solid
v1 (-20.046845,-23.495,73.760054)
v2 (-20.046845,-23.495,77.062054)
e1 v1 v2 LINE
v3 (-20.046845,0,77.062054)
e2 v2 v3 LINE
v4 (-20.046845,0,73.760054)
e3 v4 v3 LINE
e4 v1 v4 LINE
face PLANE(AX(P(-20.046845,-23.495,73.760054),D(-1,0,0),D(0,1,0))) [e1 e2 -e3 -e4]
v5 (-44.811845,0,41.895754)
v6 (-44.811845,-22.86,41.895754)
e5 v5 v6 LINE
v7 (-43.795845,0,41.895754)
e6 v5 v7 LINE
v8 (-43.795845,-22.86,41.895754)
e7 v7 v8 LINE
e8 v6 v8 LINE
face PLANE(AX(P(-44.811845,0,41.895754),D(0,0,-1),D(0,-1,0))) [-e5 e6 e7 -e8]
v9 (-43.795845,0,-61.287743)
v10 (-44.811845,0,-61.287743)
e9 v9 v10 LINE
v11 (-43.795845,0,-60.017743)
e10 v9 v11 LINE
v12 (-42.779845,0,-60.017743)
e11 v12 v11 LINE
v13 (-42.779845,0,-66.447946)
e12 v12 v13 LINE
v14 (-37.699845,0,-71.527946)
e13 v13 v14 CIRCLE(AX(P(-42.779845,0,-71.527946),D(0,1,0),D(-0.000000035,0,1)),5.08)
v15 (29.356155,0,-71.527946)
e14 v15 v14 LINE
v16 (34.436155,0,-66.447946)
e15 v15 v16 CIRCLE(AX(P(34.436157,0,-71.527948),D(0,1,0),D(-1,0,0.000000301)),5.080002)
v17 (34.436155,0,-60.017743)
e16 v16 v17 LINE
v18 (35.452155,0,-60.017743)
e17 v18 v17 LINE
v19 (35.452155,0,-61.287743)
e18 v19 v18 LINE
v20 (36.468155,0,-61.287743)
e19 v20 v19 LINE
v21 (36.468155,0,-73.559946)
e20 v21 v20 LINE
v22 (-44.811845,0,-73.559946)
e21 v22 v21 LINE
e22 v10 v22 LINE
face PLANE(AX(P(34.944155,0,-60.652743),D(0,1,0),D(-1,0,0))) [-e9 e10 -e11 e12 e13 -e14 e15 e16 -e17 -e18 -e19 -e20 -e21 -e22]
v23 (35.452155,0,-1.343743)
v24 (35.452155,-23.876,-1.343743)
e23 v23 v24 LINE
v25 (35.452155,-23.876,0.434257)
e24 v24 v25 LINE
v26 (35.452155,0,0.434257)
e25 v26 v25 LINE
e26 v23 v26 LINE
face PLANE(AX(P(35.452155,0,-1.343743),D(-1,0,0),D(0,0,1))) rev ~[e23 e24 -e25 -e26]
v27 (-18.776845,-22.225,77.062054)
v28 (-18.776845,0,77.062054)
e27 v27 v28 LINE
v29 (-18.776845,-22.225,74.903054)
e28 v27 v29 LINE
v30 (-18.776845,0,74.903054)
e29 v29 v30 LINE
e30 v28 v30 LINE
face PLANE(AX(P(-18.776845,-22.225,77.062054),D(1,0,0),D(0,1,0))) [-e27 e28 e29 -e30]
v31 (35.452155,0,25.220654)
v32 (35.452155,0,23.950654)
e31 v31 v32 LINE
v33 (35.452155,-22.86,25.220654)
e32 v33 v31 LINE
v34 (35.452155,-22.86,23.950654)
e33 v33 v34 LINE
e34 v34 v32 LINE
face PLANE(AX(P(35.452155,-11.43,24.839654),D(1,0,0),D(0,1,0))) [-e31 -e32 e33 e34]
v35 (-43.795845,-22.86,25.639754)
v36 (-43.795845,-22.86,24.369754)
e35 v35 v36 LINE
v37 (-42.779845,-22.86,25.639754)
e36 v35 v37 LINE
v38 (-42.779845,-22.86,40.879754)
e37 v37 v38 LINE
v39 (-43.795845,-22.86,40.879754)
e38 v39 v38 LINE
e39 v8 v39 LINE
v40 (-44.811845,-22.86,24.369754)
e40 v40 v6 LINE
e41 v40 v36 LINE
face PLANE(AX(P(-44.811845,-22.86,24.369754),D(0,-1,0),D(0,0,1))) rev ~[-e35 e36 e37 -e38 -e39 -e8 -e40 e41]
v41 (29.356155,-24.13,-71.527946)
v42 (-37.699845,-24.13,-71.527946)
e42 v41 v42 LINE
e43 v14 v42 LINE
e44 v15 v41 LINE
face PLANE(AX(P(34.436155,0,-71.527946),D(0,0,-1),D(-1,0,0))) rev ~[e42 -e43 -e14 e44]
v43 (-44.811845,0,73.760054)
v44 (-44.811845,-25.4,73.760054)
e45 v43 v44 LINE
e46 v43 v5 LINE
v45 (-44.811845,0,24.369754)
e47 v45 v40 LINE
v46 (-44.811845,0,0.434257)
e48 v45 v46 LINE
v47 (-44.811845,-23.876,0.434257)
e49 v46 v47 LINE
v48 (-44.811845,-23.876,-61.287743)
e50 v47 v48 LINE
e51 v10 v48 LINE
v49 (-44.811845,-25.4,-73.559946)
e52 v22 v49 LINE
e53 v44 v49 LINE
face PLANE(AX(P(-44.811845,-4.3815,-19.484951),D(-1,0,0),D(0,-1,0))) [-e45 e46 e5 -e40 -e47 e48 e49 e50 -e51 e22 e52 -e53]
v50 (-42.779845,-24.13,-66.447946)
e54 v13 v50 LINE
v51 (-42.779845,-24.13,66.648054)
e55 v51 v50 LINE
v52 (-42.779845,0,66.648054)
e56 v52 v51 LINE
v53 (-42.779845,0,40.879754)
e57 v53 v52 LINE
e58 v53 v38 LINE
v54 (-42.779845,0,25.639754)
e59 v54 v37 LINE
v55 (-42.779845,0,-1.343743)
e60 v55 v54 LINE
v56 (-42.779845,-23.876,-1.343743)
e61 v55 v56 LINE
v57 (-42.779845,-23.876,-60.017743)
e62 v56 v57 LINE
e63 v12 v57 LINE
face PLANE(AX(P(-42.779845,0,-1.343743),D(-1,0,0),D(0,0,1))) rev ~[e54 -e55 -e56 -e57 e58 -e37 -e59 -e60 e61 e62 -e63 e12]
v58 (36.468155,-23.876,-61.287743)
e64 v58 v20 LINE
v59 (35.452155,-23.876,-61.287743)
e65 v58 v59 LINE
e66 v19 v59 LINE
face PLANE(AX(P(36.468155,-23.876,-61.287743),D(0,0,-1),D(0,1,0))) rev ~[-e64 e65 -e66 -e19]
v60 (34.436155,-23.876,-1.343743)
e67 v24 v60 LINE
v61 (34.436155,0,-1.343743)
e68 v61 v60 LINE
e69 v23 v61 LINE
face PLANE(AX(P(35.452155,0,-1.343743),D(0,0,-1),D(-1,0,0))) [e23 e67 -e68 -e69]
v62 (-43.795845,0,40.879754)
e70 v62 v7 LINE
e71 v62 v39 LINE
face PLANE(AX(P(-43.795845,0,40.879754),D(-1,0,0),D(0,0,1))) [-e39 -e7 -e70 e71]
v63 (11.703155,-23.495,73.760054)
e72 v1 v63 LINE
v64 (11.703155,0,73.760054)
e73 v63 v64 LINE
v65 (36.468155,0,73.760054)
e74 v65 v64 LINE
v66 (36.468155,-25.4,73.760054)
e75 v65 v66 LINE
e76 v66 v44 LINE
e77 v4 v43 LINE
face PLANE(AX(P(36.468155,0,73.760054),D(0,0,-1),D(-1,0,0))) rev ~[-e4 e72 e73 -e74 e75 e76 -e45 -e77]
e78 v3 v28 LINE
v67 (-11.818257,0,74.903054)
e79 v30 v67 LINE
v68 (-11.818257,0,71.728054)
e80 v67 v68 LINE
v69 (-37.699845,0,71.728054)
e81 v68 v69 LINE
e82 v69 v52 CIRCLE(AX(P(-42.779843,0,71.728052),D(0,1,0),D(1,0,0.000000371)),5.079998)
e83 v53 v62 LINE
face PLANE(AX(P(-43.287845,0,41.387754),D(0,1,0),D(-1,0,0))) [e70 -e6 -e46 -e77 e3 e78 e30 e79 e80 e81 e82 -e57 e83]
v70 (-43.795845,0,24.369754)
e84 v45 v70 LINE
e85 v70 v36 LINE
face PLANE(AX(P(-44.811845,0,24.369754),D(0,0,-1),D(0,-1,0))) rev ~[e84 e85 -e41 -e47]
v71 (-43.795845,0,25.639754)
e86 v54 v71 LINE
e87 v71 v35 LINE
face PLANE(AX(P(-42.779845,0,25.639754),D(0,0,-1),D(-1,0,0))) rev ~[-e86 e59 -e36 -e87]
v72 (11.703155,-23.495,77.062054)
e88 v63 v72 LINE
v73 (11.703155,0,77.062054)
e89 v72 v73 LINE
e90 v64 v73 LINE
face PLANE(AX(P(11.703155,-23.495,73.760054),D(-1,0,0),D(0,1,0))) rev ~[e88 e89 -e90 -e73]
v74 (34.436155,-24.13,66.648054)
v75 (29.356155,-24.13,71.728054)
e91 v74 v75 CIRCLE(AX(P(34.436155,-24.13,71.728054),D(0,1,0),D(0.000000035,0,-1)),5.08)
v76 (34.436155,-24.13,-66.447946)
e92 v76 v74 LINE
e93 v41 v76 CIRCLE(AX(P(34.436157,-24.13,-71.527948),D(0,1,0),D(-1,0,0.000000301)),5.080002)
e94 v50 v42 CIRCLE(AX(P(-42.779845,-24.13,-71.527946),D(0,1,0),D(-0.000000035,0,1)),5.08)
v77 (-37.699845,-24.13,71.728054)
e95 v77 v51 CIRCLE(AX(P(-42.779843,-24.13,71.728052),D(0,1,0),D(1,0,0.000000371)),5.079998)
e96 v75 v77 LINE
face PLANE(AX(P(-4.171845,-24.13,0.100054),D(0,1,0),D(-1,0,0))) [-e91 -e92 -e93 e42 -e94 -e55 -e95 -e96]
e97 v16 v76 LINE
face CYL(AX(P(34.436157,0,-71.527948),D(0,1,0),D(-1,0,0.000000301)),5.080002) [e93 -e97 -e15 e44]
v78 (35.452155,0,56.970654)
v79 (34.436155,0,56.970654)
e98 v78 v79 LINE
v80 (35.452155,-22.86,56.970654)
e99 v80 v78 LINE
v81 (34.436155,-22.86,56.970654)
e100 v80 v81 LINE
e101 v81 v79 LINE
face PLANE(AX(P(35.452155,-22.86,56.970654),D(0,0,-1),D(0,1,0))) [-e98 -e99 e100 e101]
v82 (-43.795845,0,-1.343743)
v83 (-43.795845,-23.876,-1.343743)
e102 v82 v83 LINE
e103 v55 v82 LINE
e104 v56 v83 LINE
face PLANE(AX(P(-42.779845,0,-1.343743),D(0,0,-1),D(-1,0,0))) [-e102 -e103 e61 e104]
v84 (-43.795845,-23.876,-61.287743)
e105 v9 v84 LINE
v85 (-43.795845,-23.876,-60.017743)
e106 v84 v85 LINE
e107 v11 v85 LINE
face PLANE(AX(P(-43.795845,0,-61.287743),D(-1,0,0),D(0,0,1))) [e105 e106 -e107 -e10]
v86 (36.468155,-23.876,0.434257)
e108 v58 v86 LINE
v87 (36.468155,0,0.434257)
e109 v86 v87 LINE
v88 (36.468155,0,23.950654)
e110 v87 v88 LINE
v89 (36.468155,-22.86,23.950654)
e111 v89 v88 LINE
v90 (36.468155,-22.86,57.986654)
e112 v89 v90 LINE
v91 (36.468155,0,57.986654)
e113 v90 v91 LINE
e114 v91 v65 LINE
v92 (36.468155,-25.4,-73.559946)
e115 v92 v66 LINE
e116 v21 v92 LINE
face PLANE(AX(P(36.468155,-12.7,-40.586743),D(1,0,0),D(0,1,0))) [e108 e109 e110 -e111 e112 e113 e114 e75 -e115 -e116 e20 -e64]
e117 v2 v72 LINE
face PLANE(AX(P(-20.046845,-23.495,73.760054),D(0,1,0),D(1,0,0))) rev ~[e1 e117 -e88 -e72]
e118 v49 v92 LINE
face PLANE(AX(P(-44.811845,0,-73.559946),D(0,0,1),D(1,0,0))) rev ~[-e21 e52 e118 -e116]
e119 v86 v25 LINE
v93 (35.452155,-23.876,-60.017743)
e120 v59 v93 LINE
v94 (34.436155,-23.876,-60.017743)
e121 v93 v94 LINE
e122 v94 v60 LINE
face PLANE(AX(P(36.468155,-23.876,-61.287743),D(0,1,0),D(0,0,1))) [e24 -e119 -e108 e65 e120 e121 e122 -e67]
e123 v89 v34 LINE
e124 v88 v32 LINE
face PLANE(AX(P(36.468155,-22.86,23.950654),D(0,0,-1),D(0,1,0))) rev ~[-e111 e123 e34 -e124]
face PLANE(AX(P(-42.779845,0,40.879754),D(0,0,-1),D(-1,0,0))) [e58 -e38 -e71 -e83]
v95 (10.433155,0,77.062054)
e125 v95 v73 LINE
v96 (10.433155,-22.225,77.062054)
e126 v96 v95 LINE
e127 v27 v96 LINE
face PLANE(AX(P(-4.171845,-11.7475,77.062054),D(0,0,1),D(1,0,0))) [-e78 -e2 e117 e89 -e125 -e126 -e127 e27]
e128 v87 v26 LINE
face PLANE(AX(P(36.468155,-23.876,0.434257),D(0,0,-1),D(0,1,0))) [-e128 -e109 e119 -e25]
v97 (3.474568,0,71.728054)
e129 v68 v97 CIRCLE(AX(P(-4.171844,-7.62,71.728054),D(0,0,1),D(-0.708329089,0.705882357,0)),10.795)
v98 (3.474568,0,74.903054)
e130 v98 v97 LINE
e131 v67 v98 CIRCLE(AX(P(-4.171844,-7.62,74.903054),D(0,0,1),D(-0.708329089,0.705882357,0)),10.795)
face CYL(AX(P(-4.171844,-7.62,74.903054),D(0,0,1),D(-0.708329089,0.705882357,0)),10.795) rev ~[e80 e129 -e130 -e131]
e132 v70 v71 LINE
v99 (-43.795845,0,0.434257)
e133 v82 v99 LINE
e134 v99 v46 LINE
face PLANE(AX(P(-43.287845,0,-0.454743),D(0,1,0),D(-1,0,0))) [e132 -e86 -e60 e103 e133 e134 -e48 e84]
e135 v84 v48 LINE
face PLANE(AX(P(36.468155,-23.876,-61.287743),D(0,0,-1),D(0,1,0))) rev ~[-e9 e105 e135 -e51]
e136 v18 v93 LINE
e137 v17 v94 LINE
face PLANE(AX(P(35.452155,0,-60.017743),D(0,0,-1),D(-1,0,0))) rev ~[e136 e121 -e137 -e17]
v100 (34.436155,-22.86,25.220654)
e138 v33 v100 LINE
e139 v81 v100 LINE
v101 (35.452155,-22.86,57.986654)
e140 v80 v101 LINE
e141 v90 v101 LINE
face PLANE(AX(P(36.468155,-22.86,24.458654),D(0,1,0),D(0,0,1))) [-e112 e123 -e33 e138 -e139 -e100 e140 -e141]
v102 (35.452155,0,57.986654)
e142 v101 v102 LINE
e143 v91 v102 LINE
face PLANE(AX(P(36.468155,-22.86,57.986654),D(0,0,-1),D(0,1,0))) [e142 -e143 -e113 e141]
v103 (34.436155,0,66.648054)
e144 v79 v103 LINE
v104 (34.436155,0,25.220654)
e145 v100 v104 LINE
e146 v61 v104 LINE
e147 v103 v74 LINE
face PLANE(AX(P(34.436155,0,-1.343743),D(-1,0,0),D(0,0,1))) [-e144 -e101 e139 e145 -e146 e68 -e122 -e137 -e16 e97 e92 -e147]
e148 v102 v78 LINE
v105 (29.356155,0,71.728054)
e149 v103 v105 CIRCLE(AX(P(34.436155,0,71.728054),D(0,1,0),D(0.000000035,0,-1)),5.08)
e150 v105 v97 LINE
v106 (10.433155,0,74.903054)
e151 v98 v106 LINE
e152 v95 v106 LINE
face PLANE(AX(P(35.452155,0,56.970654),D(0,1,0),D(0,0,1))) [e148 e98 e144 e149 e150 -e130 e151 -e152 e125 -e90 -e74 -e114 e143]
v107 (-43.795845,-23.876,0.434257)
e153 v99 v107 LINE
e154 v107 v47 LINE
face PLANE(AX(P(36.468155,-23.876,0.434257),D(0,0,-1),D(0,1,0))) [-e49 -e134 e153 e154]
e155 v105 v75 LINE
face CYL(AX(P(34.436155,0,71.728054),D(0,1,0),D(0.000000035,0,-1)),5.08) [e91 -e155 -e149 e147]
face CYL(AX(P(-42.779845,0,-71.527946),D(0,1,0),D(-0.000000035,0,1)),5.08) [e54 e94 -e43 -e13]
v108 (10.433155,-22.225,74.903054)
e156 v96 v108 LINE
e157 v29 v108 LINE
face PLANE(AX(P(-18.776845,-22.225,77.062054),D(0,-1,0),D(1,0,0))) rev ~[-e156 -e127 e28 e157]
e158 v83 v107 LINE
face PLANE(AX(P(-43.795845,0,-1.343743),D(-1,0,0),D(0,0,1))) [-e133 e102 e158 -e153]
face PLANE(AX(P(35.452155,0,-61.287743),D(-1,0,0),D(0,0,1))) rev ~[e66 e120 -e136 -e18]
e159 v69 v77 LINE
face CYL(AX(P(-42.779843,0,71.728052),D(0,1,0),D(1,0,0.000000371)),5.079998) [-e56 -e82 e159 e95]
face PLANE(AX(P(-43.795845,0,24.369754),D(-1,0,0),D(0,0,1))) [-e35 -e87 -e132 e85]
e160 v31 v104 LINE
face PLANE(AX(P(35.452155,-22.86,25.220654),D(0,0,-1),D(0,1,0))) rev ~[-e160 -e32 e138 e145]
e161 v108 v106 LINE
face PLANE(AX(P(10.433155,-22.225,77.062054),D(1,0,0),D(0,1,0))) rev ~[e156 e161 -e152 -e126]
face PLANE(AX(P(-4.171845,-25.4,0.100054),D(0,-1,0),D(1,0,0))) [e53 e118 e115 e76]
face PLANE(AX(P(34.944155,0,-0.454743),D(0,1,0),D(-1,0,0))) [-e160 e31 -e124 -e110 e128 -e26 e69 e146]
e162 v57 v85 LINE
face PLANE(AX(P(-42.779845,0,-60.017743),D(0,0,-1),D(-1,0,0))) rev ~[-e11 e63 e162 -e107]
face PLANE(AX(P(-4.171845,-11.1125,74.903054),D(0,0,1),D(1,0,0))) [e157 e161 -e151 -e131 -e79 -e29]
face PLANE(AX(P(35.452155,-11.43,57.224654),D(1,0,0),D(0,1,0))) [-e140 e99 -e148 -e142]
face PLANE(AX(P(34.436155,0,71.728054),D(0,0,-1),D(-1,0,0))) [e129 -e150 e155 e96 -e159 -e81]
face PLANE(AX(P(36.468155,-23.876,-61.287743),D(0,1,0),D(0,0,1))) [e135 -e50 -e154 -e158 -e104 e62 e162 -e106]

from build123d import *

# Parameters (mm, degrees)
F1_DEPTH  = 25.4
F2_W      = 77.216
F2_H      = 143.256
F3_DEPTH  = 24.13
F4_W      = 0.889
F4_H      = 6.858
F4_W_2    = 6.858
F4_H_2    = 0.889
F5_DEPTH  = 81.281
F6_W      = 5.0038
F6_H      = 0.6858
F7_DEPTH  = 81.281
F8_W      = 5.0038
F8_H      = 0.6858
F9_DEPTH  = 2.032
F10_W     = 5.207
F10_H     = 9.652
F10_W_2   = 3.175
F10_H_2   = 7.62
F10_W_3   = 9.652
F10_H_3   = 5.207
F10_W_4   = 7.62
F10_H_4   = 3.175
F10_W_5   = 9.271
F11_DEPTH = 12.954
F12_W     = 9.144
F12_H     = 4.699
F12_W_2   = 7.62
F12_H_2   = 3.175
F13_DEPTH = 12.954
F14_W     = 0.889
F14_H     = 6.858
F14_W_2   = 6.858
F14_H_2   = 0.889
F15_DEPTH = 81.281
F16_W     = 5.207
F16_H     = 9.652
F16_W_2   = 3.175
F16_H_2   = 7.62
F16_W_3   = 9.652
F16_H_3   = 5.207
F16_W_4   = 7.62
F16_H_4   = 3.175
F17_DEPTH = 12.954
F18_W     = 5.207
F18_H     = 9.652
F18_W_2   = 3.175
F18_H_2   = 7.62
F18_W_3   = 9.652
F18_H_3   = 5.207
F18_W_4   = 7.62
F18_H_4   = 3.175
F19_DEPTH = 12.954
F21_DEPTH = 25.4
F22_W     = 31.75
F22_H     = 23.495
F23_DEPTH = 3.302
F24_W     = 29.21
F24_H     = 22.225
F25_DEPTH = 2.159
F27_DEPTH = 25.4
F29_W     = 22.86
F29_H     = 33.02
F30_DEPTH = 25.4
F31_W     = 22.86
F31_H     = 0.508
F32_DEPTH = 1.016
F34_W     = 22.86
F34_H     = 0.508
F35_DEPTH = 1.016
F36_W     = 22.86
F36_H     = 0.762
F37_DEPTH = 1.016
F33_W     = 22.86
F33_H     = 17.526
F38_DEPTH = 25.4
F39_W     = 1.016
F39_H     = 1.016
F40_DEPTH = 25.4
F41_W     = 1.016
F41_H     = 1.27
F42_DEPTH = 25.4
F43_W     = 23.876
F43_H     = 61.722
F44_DEPTH = 81.281
F45_W     = 1.016
F45_H     = 1.27
F46_DEPTH = 25.4
F47_W     = 1.016
F47_H     = 1.778
F48_DEPTH = 25.4
F49_W     = 1.016
F49_H     = 1.778
F50_DEPTH = 25.4


with BuildPart() as f1:
    # F0 (on Front) → F1 (new body)
    with BuildSketch(Plane.XZ):
        Polygon((36.468155, -40.539946), (36.468155, 73.760054), (-44.811845, 73.760054), (-44.811845, -40.539946), (-44.811845, -73.559946), (36.468155, -73.559946), align=None)
    extrude(amount=F1_DEPTH)

    # F2 (on face) → F3 (cut)
    with BuildSketch(Plane(origin=(0, 0, 0), x_dir=(-1, 0, 0), z_dir=(0, 1, 0))):
        with Locations((4.171845, 0.100054)):
            Rectangle(F2_W, F2_H)
    extrude(amount=-F3_DEPTH, mode=Mode.SUBTRACT)

    # F4 (on face) → F5 (cut, through all)
    with BuildSketch(Plane.YZ.offset(36.468155)):
        with Locations((-12.7, -11.420451)):
            Rectangle(F4_W, F4_H)
        with Locations((-12.7, -19.865951)):
            Rectangle(F4_W_2, F4_H_2)
        with Locations((-12.7, -27.866951)):
            Rectangle(F4_W_2, F4_H_2)
        with Locations((-21.0185, -19.484951)):
            Rectangle(F4_W, F4_H)
        with Locations((-4.3815, -19.484951)):
            Rectangle(F4_W, F4_H)
    extrude(amount=-F5_DEPTH, mode=Mode.SUBTRACT)

    # F6 (on face) → F7 (cut, through all)
    with BuildSketch(Plane.YZ.offset(36.468155)):
        with Locations((-17.4371, 28.509954)):
            Rectangle(F6_W, F6_H)
        with Locations((-7.9629, 28.509954)):
            Rectangle(F6_W, F6_H)
        with Locations((-17.4371, 36.815754)):
            Rectangle(F6_W, F6_H)
        with Locations((-7.9629, 36.815754)):
            Rectangle(F6_W, F6_H)
        with Locations((-17.4371, 45.121554)):
            Rectangle(F6_W, F6_H)
        with Locations((-7.9629, 45.121554)):
            Rectangle(F6_W, F6_H)
        with Locations((-17.4371, 53.427354)):
            Rectangle(F6_W, F6_H)
        with Locations((-7.9629, 53.427354)):
            Rectangle(F6_W, F6_H)
    extrude(amount=-F7_DEPTH, mode=Mode.SUBTRACT)

    # F8 (on face) → F9 (join)
    with BuildSketch(Plane(origin=(-44.811845, 0, 0), x_dir=(0, -1, 0), z_dir=(-1, 0, 0))):
        with Locations((7.9629, 53.427354)):
            Rectangle(F8_W, F8_H)
        with Locations((17.4371, 53.427354)):
            Rectangle(F8_W, F8_H)
        with Locations((7.9629, 45.121554)):
            Rectangle(F8_W, F8_H)
        with Locations((17.4371, 45.121554)):
            Rectangle(F8_W, F8_H)
    extrude(amount=-F9_DEPTH)

    # F10 (on face) → F11 (join)
    with BuildSketch(Plane.YZ.offset(36.468155)):
        with Locations((-12.7, -11.420451)):
            Rectangle(F10_W, F10_H)
        with Locations((-12.7, -11.420451)):
            Rectangle(F10_W_2, F10_H_2, mode=Mode.SUBTRACT)
        with Locations((-21.0185, -19.484951)):
            Rectangle(F10_W, F10_H)
        with Locations((-21.0185, -19.484951)):
            Rectangle(F10_W_2, F10_H_2, mode=Mode.SUBTRACT)
        with Locations((-4.3815, -19.484951)):
            Rectangle(F10_W, F10_H)
        with Locations((-4.3815, -19.484951)):
            Rectangle(F10_W_2, F10_H_2, mode=Mode.SUBTRACT)
        with Locations((-12.7, -19.865951)):
            Rectangle(F10_W_3, F10_H_3)
        with Locations((-12.7, -19.865951)):
            Rectangle(F10_W_4, F10_H_4, mode=Mode.SUBTRACT)
        with Locations((-12.8905, -27.866951)):
            Rectangle(F10_W_5, F10_H_3)
        with Locations((-12.7, -27.866951)):
            Rectangle(F10_W_4, F10_H_4, mode=Mode.SUBTRACT)
    extrude(amount=-F11_DEPTH)

    # F12 (on face) → F13 (join)
    with BuildSketch(Plane.YZ.offset(36.468155)):
        with Locations((-17.4371, 28.509954)):
            Rectangle(F12_W, F12_H)
        with Locations((-17.4371, 28.509954)):
            Rectangle(F12_W_2, F12_H_2, mode=Mode.SUBTRACT)
        with Locations((-7.9629, 28.509954)):
            Rectangle(F12_W, F12_H)
        with Locations((-7.9629, 28.509954)):
            Rectangle(F12_W_2, F12_H_2, mode=Mode.SUBTRACT)
        with Locations((-17.4371, 36.815754)):
            Rectangle(F12_W, F12_H)
        with Locations((-17.4371, 36.815754)):
            Rectangle(F12_W_2, F12_H_2, mode=Mode.SUBTRACT)
        with Locations((-7.9629, 36.815754)):
            Rectangle(F12_W, F12_H)
        with Locations((-7.9629, 36.815754)):
            Rectangle(F12_W_2, F12_H_2, mode=Mode.SUBTRACT)
        with Locations((-17.4371, 45.121554)):
            Rectangle(F12_W, F12_H)
        with Locations((-17.4371, 45.121554)):
            Rectangle(F12_W_2, F12_H_2, mode=Mode.SUBTRACT)
        with Locations((-7.9629, 45.121554)):
            Rectangle(F12_W, F12_H)
        with Locations((-7.9629, 45.121554)):
            Rectangle(F12_W_2, F12_H_2, mode=Mode.SUBTRACT)
        with Locations((-17.4371, 53.427354)):
            Rectangle(F12_W, F12_H)
        with Locations((-17.4371, 53.427354)):
            Rectangle(F12_W_2, F12_H_2, mode=Mode.SUBTRACT)
        with Locations((-7.9629, 53.427354)):
            Rectangle(F12_W, F12_H)
        with Locations((-7.9629, 53.427354)):
            Rectangle(F12_W_2, F12_H_2, mode=Mode.SUBTRACT)
    extrude(amount=-F13_DEPTH)

    # F14 (on face) → F15 (cut, through all)
    with BuildSketch(Plane.YZ.offset(36.468155)):
        with Locations((-12.7, -40.586743)):
            Rectangle(F14_W, F14_H)
        with Locations((-12.7, -49.032243)):
            Rectangle(F14_W_2, F14_H_2)
        with Locations((-12.7, -57.033243)):
            Rectangle(F14_W_2, F14_H_2)
        with Locations((-21.0185, -48.714743)):
            Rectangle(F14_W, F14_H)
        with Locations((-4.3815, -48.714743)):
            Rectangle(F14_W, F14_H)
    extrude(amount=-F15_DEPTH, mode=Mode.SUBTRACT)

    # F16 (on face) → F17 (join)
    with BuildSketch(Plane(origin=(-44.811845, 0, 0), x_dir=(0, -1, 0), z_dir=(-1, 0, 0))):
        with Locations((4.3815, -19.484951)):
            Rectangle(F16_W, F16_H)
        with Locations((4.3815, -19.484951)):
            Rectangle(F16_W_2, F16_H_2, mode=Mode.SUBTRACT)
        with Locations((12.7, -19.865951)):
            Rectangle(F16_W_3, F16_H_3)
        with Locations((12.7, -19.865951)):
            Rectangle(F16_W_4, F16_H_4, mode=Mode.SUBTRACT)
        with Locations((21.0185, -19.484951)):
            Rectangle(F16_W, F16_H)
        with Locations((21.0185, -19.484951)):
            Rectangle(F16_W_2, F16_H_2, mode=Mode.SUBTRACT)
        with Locations((12.7, -11.420451)):
            Rectangle(F16_W, F16_H)
        with Locations((12.7, -11.420451)):
            Rectangle(F16_W_2, F16_H_2, mode=Mode.SUBTRACT)
        with Locations((12.7, -27.866951)):
            Rectangle(F16_W_3, F16_H_3)
        with Locations((12.7, -27.866951)):
            Rectangle(F16_W_4, F16_H_4, mode=Mode.SUBTRACT)
        with Locations((4.3815, -48.714743)):
            Rectangle(F16_W, F16_H)
        with Locations((4.3815, -48.714743)):
            Rectangle(F16_W_2, F16_H_2, mode=Mode.SUBTRACT)
        with Locations((12.7, -49.032243)):
            Rectangle(F16_W_3, F16_H_3)
        with Locations((12.7, -49.032243)):
            Rectangle(F16_W_4, F16_H_4, mode=Mode.SUBTRACT)
        with Locations((21.0185, -48.714743)):
            Rectangle(F16_W, F16_H)
        with Locations((21.0185, -48.714743)):
            Rectangle(F16_W_2, F16_H_2, mode=Mode.SUBTRACT)
        with Locations((12.7, -40.586743)):
            Rectangle(F16_W, F16_H)
        with Locations((12.7, -40.586743)):
            Rectangle(F16_W_2, F16_H_2, mode=Mode.SUBTRACT)
        with Locations((12.7, -57.033243)):
            Rectangle(F16_W_3, F16_H_3)
        with Locations((12.7, -57.033243)):
            Rectangle(F16_W_4, F16_H_4, mode=Mode.SUBTRACT)
    extrude(amount=-F17_DEPTH)

    # F18 (on face) → F19 (join)
    with BuildSketch(Plane.YZ.offset(36.468155)):
        with Locations((-12.7, -40.586743)):
            Rectangle(F18_W, F18_H)
        with Locations((-12.7, -40.586743)):
            Rectangle(F18_W_2, F18_H_2, mode=Mode.SUBTRACT)
        with Locations((-4.3815, -48.714743)):
            Rectangle(F18_W, F18_H)
        with Locations((-4.3815, -48.714743)):
            Rectangle(F18_W_2, F18_H_2, mode=Mode.SUBTRACT)
        with Locations((-12.7, -49.032243)):
            Rectangle(F18_W_3, F18_H_3)
        with Locations((-12.7, -49.032243)):
            Rectangle(F18_W_4, F18_H_4, mode=Mode.SUBTRACT)
        with Locations((-21.0185, -48.714743)):
            Rectangle(F18_W, F18_H)
        with Locations((-21.0185, -48.714743)):
            Rectangle(F18_W_2, F18_H_2, mode=Mode.SUBTRACT)
        with Locations((-12.7, -57.033243)):
            Rectangle(F18_W_3, F18_H_3)
        with Locations((-12.7, -57.033243)):
            Rectangle(F18_W_4, F18_H_4, mode=Mode.SUBTRACT)
    extrude(amount=-F19_DEPTH)

    # F20 (on face) → F21 (join)
    with BuildSketch(Plane(origin=(0, 0, 0), x_dir=(-1, 0, 0), z_dir=(0, 1, 0))):
        with BuildLine():
            ThreePointArc((-34.436155, 66.648054), (-30.844053, 68.135951), (-29.356155, 71.728054))
            Line((-29.356155, 71.728054), (-34.436155, 71.728054))
            Line((-34.436155, 71.728054), (-34.436155, 66.648054))
        make_face()
        with BuildLine():
            Line((42.779845, 71.728054), (37.699845, 71.728054))
            ThreePointArc((37.699845, 71.728054), (39.187742, 68.135951), (42.779845, 66.648054))
            Line((42.779845, 66.648054), (42.779845, 71.728054))
        make_face()
        with BuildLine():
            Line((-34.436155, -71.527946), (-29.356155, -71.527946))
            ThreePointArc((-29.356155, -71.527946), (-30.844053, -67.935844), (-34.436155, -66.447946))
            Line((-34.436155, -66.447946), (-34.436155, -71.527946))
        make_face()
        with BuildLine():
            ThreePointArc((42.779845, -66.447946), (39.187742, -67.935844), (37.699845, -71.527946))
            Line((37.699845, -71.527946), (42.779845, -71.527946))
            Line((42.779845, -71.527946), (42.779845, -66.447946))
        make_face()
    extrude(amount=-F21_DEPTH)

    # F22 (on face) → F23 (join)
    with BuildSketch(Plane.XY.offset(73.760054)):
        with Locations((-4.171845, -11.7475)):
            Rectangle(F22_W, F22_H)
    extrude(amount=F23_DEPTH)

    # F24 (on face) → F25 (cut)
    with BuildSketch(Plane.XY.offset(77.062054)):
        with Locations((-4.171845, -11.1125)):
            Rectangle(F24_W, F24_H)
    extrude(amount=-F25_DEPTH, mode=Mode.SUBTRACT)

    # F26 (on face) → F27 (cut)
    with BuildSketch(Plane.XY.offset(74.903054)):
        with BuildLine():
            Line((3.474568, 0), (-11.818257, 0))
            ThreePointArc((-11.818257, 0), (-4.171845, -18.415), (3.474568, 0))
        make_face()
    extrude(amount=-F27_DEPTH, mode=Mode.SUBTRACT)

    # F29 (on face) → F30 (cut)
    with BuildSketch(Plane.YZ.offset(36.468155)):
        with Locations((-11.43, 40.968654)):
            Rectangle(F29_W, F29_H)
    extrude(amount=-F30_DEPTH, mode=Mode.SUBTRACT)

    # F31 (on face) → F32 (cut)
    with BuildSketch(Plane.YZ.offset(36.468155)):
        with Locations((-11.43, 57.732654)):
            Rectangle(F31_W, F31_H)
        with Locations((-11.43, 24.204654)):
            Rectangle(F31_W, F31_H)
    extrude(amount=-F32_DEPTH, mode=Mode.SUBTRACT)

    # F34 (on face) → F35 (join)
    with BuildSketch(Plane.YZ.offset(35.452155)):
        with Locations((-11.43, 57.224654)):
            Rectangle(F34_W, F34_H)
    extrude(amount=-F35_DEPTH)

    # F36 (on face) → F37 (join)
    with BuildSketch(Plane.YZ.offset(35.452155)):
        with Locations((-11.43, 24.839654)):
            Rectangle(F36_W, F36_H)
    extrude(amount=-F37_DEPTH)

    # F33 (on face) → F38 (cut)
    with BuildSketch(Plane(origin=(-44.811845, 0, 0), x_dir=(0, -1, 0), z_dir=(-1, 0, 0))):
        with Locations((11.43, 33.132754)):
            Rectangle(F33_W, F33_H)
    extrude(amount=-F38_DEPTH, mode=Mode.SUBTRACT)

    # F39 (on face) → F40 (join)
    with BuildSketch(Plane(origin=(0, 0, 0), x_dir=(-1, 0, 0), z_dir=(0, 1, 0))):
        with Locations((43.287845, 41.387754)):
            Rectangle(F39_W, F39_H)
    extrude(amount=-F40_DEPTH)

    # F41 (on face) → F42 (join)
    with BuildSketch(Plane(origin=(0, 0, 0), x_dir=(-1, 0, 0), z_dir=(0, 1, 0))):
        with Locations((43.287845, 25.004754)):
            Rectangle(F41_W, F41_H)
    extrude(amount=-F42_DEPTH)

    # F43 (on face) → F44 (cut, through all)
    with BuildSketch(Plane.YZ.offset(36.468155)):
        with Locations((-11.938, -30.426743)):
            Rectangle(F43_W, F43_H)
    extrude(amount=-F44_DEPTH, mode=Mode.SUBTRACT)

    # F45 (on face) → F46 (join)
    with BuildSketch(Plane(origin=(0, 0, 0), x_dir=(-1, 0, 0), z_dir=(0, 1, 0))):
        with Locations((-34.944155, -60.652743)):
            Rectangle(F45_W, F45_H)
        with Locations((43.287845, -60.652743)):
            Rectangle(F45_W, F45_H)
    extrude(amount=-F46_DEPTH)

    # F47 (on face) → F48 (join)
    with BuildSketch(Plane(origin=(0, 0, 0), x_dir=(-1, 0, 0), z_dir=(0, 1, 0))):
        with Locations((-34.944155, -0.454743)):
            Rectangle(F47_W, F47_H)
    extrude(amount=-F48_DEPTH)

    # F49 (on face) → F50 (join)
    with BuildSketch(Plane(origin=(0, 0, 0), x_dir=(-1, 0, 0), z_dir=(0, 1, 0))):
        with Locations((43.287845, -0.454743)):
            Rectangle(F49_W, F49_H)
    extrude(amount=-F50_DEPTH)


solid = f1.part
